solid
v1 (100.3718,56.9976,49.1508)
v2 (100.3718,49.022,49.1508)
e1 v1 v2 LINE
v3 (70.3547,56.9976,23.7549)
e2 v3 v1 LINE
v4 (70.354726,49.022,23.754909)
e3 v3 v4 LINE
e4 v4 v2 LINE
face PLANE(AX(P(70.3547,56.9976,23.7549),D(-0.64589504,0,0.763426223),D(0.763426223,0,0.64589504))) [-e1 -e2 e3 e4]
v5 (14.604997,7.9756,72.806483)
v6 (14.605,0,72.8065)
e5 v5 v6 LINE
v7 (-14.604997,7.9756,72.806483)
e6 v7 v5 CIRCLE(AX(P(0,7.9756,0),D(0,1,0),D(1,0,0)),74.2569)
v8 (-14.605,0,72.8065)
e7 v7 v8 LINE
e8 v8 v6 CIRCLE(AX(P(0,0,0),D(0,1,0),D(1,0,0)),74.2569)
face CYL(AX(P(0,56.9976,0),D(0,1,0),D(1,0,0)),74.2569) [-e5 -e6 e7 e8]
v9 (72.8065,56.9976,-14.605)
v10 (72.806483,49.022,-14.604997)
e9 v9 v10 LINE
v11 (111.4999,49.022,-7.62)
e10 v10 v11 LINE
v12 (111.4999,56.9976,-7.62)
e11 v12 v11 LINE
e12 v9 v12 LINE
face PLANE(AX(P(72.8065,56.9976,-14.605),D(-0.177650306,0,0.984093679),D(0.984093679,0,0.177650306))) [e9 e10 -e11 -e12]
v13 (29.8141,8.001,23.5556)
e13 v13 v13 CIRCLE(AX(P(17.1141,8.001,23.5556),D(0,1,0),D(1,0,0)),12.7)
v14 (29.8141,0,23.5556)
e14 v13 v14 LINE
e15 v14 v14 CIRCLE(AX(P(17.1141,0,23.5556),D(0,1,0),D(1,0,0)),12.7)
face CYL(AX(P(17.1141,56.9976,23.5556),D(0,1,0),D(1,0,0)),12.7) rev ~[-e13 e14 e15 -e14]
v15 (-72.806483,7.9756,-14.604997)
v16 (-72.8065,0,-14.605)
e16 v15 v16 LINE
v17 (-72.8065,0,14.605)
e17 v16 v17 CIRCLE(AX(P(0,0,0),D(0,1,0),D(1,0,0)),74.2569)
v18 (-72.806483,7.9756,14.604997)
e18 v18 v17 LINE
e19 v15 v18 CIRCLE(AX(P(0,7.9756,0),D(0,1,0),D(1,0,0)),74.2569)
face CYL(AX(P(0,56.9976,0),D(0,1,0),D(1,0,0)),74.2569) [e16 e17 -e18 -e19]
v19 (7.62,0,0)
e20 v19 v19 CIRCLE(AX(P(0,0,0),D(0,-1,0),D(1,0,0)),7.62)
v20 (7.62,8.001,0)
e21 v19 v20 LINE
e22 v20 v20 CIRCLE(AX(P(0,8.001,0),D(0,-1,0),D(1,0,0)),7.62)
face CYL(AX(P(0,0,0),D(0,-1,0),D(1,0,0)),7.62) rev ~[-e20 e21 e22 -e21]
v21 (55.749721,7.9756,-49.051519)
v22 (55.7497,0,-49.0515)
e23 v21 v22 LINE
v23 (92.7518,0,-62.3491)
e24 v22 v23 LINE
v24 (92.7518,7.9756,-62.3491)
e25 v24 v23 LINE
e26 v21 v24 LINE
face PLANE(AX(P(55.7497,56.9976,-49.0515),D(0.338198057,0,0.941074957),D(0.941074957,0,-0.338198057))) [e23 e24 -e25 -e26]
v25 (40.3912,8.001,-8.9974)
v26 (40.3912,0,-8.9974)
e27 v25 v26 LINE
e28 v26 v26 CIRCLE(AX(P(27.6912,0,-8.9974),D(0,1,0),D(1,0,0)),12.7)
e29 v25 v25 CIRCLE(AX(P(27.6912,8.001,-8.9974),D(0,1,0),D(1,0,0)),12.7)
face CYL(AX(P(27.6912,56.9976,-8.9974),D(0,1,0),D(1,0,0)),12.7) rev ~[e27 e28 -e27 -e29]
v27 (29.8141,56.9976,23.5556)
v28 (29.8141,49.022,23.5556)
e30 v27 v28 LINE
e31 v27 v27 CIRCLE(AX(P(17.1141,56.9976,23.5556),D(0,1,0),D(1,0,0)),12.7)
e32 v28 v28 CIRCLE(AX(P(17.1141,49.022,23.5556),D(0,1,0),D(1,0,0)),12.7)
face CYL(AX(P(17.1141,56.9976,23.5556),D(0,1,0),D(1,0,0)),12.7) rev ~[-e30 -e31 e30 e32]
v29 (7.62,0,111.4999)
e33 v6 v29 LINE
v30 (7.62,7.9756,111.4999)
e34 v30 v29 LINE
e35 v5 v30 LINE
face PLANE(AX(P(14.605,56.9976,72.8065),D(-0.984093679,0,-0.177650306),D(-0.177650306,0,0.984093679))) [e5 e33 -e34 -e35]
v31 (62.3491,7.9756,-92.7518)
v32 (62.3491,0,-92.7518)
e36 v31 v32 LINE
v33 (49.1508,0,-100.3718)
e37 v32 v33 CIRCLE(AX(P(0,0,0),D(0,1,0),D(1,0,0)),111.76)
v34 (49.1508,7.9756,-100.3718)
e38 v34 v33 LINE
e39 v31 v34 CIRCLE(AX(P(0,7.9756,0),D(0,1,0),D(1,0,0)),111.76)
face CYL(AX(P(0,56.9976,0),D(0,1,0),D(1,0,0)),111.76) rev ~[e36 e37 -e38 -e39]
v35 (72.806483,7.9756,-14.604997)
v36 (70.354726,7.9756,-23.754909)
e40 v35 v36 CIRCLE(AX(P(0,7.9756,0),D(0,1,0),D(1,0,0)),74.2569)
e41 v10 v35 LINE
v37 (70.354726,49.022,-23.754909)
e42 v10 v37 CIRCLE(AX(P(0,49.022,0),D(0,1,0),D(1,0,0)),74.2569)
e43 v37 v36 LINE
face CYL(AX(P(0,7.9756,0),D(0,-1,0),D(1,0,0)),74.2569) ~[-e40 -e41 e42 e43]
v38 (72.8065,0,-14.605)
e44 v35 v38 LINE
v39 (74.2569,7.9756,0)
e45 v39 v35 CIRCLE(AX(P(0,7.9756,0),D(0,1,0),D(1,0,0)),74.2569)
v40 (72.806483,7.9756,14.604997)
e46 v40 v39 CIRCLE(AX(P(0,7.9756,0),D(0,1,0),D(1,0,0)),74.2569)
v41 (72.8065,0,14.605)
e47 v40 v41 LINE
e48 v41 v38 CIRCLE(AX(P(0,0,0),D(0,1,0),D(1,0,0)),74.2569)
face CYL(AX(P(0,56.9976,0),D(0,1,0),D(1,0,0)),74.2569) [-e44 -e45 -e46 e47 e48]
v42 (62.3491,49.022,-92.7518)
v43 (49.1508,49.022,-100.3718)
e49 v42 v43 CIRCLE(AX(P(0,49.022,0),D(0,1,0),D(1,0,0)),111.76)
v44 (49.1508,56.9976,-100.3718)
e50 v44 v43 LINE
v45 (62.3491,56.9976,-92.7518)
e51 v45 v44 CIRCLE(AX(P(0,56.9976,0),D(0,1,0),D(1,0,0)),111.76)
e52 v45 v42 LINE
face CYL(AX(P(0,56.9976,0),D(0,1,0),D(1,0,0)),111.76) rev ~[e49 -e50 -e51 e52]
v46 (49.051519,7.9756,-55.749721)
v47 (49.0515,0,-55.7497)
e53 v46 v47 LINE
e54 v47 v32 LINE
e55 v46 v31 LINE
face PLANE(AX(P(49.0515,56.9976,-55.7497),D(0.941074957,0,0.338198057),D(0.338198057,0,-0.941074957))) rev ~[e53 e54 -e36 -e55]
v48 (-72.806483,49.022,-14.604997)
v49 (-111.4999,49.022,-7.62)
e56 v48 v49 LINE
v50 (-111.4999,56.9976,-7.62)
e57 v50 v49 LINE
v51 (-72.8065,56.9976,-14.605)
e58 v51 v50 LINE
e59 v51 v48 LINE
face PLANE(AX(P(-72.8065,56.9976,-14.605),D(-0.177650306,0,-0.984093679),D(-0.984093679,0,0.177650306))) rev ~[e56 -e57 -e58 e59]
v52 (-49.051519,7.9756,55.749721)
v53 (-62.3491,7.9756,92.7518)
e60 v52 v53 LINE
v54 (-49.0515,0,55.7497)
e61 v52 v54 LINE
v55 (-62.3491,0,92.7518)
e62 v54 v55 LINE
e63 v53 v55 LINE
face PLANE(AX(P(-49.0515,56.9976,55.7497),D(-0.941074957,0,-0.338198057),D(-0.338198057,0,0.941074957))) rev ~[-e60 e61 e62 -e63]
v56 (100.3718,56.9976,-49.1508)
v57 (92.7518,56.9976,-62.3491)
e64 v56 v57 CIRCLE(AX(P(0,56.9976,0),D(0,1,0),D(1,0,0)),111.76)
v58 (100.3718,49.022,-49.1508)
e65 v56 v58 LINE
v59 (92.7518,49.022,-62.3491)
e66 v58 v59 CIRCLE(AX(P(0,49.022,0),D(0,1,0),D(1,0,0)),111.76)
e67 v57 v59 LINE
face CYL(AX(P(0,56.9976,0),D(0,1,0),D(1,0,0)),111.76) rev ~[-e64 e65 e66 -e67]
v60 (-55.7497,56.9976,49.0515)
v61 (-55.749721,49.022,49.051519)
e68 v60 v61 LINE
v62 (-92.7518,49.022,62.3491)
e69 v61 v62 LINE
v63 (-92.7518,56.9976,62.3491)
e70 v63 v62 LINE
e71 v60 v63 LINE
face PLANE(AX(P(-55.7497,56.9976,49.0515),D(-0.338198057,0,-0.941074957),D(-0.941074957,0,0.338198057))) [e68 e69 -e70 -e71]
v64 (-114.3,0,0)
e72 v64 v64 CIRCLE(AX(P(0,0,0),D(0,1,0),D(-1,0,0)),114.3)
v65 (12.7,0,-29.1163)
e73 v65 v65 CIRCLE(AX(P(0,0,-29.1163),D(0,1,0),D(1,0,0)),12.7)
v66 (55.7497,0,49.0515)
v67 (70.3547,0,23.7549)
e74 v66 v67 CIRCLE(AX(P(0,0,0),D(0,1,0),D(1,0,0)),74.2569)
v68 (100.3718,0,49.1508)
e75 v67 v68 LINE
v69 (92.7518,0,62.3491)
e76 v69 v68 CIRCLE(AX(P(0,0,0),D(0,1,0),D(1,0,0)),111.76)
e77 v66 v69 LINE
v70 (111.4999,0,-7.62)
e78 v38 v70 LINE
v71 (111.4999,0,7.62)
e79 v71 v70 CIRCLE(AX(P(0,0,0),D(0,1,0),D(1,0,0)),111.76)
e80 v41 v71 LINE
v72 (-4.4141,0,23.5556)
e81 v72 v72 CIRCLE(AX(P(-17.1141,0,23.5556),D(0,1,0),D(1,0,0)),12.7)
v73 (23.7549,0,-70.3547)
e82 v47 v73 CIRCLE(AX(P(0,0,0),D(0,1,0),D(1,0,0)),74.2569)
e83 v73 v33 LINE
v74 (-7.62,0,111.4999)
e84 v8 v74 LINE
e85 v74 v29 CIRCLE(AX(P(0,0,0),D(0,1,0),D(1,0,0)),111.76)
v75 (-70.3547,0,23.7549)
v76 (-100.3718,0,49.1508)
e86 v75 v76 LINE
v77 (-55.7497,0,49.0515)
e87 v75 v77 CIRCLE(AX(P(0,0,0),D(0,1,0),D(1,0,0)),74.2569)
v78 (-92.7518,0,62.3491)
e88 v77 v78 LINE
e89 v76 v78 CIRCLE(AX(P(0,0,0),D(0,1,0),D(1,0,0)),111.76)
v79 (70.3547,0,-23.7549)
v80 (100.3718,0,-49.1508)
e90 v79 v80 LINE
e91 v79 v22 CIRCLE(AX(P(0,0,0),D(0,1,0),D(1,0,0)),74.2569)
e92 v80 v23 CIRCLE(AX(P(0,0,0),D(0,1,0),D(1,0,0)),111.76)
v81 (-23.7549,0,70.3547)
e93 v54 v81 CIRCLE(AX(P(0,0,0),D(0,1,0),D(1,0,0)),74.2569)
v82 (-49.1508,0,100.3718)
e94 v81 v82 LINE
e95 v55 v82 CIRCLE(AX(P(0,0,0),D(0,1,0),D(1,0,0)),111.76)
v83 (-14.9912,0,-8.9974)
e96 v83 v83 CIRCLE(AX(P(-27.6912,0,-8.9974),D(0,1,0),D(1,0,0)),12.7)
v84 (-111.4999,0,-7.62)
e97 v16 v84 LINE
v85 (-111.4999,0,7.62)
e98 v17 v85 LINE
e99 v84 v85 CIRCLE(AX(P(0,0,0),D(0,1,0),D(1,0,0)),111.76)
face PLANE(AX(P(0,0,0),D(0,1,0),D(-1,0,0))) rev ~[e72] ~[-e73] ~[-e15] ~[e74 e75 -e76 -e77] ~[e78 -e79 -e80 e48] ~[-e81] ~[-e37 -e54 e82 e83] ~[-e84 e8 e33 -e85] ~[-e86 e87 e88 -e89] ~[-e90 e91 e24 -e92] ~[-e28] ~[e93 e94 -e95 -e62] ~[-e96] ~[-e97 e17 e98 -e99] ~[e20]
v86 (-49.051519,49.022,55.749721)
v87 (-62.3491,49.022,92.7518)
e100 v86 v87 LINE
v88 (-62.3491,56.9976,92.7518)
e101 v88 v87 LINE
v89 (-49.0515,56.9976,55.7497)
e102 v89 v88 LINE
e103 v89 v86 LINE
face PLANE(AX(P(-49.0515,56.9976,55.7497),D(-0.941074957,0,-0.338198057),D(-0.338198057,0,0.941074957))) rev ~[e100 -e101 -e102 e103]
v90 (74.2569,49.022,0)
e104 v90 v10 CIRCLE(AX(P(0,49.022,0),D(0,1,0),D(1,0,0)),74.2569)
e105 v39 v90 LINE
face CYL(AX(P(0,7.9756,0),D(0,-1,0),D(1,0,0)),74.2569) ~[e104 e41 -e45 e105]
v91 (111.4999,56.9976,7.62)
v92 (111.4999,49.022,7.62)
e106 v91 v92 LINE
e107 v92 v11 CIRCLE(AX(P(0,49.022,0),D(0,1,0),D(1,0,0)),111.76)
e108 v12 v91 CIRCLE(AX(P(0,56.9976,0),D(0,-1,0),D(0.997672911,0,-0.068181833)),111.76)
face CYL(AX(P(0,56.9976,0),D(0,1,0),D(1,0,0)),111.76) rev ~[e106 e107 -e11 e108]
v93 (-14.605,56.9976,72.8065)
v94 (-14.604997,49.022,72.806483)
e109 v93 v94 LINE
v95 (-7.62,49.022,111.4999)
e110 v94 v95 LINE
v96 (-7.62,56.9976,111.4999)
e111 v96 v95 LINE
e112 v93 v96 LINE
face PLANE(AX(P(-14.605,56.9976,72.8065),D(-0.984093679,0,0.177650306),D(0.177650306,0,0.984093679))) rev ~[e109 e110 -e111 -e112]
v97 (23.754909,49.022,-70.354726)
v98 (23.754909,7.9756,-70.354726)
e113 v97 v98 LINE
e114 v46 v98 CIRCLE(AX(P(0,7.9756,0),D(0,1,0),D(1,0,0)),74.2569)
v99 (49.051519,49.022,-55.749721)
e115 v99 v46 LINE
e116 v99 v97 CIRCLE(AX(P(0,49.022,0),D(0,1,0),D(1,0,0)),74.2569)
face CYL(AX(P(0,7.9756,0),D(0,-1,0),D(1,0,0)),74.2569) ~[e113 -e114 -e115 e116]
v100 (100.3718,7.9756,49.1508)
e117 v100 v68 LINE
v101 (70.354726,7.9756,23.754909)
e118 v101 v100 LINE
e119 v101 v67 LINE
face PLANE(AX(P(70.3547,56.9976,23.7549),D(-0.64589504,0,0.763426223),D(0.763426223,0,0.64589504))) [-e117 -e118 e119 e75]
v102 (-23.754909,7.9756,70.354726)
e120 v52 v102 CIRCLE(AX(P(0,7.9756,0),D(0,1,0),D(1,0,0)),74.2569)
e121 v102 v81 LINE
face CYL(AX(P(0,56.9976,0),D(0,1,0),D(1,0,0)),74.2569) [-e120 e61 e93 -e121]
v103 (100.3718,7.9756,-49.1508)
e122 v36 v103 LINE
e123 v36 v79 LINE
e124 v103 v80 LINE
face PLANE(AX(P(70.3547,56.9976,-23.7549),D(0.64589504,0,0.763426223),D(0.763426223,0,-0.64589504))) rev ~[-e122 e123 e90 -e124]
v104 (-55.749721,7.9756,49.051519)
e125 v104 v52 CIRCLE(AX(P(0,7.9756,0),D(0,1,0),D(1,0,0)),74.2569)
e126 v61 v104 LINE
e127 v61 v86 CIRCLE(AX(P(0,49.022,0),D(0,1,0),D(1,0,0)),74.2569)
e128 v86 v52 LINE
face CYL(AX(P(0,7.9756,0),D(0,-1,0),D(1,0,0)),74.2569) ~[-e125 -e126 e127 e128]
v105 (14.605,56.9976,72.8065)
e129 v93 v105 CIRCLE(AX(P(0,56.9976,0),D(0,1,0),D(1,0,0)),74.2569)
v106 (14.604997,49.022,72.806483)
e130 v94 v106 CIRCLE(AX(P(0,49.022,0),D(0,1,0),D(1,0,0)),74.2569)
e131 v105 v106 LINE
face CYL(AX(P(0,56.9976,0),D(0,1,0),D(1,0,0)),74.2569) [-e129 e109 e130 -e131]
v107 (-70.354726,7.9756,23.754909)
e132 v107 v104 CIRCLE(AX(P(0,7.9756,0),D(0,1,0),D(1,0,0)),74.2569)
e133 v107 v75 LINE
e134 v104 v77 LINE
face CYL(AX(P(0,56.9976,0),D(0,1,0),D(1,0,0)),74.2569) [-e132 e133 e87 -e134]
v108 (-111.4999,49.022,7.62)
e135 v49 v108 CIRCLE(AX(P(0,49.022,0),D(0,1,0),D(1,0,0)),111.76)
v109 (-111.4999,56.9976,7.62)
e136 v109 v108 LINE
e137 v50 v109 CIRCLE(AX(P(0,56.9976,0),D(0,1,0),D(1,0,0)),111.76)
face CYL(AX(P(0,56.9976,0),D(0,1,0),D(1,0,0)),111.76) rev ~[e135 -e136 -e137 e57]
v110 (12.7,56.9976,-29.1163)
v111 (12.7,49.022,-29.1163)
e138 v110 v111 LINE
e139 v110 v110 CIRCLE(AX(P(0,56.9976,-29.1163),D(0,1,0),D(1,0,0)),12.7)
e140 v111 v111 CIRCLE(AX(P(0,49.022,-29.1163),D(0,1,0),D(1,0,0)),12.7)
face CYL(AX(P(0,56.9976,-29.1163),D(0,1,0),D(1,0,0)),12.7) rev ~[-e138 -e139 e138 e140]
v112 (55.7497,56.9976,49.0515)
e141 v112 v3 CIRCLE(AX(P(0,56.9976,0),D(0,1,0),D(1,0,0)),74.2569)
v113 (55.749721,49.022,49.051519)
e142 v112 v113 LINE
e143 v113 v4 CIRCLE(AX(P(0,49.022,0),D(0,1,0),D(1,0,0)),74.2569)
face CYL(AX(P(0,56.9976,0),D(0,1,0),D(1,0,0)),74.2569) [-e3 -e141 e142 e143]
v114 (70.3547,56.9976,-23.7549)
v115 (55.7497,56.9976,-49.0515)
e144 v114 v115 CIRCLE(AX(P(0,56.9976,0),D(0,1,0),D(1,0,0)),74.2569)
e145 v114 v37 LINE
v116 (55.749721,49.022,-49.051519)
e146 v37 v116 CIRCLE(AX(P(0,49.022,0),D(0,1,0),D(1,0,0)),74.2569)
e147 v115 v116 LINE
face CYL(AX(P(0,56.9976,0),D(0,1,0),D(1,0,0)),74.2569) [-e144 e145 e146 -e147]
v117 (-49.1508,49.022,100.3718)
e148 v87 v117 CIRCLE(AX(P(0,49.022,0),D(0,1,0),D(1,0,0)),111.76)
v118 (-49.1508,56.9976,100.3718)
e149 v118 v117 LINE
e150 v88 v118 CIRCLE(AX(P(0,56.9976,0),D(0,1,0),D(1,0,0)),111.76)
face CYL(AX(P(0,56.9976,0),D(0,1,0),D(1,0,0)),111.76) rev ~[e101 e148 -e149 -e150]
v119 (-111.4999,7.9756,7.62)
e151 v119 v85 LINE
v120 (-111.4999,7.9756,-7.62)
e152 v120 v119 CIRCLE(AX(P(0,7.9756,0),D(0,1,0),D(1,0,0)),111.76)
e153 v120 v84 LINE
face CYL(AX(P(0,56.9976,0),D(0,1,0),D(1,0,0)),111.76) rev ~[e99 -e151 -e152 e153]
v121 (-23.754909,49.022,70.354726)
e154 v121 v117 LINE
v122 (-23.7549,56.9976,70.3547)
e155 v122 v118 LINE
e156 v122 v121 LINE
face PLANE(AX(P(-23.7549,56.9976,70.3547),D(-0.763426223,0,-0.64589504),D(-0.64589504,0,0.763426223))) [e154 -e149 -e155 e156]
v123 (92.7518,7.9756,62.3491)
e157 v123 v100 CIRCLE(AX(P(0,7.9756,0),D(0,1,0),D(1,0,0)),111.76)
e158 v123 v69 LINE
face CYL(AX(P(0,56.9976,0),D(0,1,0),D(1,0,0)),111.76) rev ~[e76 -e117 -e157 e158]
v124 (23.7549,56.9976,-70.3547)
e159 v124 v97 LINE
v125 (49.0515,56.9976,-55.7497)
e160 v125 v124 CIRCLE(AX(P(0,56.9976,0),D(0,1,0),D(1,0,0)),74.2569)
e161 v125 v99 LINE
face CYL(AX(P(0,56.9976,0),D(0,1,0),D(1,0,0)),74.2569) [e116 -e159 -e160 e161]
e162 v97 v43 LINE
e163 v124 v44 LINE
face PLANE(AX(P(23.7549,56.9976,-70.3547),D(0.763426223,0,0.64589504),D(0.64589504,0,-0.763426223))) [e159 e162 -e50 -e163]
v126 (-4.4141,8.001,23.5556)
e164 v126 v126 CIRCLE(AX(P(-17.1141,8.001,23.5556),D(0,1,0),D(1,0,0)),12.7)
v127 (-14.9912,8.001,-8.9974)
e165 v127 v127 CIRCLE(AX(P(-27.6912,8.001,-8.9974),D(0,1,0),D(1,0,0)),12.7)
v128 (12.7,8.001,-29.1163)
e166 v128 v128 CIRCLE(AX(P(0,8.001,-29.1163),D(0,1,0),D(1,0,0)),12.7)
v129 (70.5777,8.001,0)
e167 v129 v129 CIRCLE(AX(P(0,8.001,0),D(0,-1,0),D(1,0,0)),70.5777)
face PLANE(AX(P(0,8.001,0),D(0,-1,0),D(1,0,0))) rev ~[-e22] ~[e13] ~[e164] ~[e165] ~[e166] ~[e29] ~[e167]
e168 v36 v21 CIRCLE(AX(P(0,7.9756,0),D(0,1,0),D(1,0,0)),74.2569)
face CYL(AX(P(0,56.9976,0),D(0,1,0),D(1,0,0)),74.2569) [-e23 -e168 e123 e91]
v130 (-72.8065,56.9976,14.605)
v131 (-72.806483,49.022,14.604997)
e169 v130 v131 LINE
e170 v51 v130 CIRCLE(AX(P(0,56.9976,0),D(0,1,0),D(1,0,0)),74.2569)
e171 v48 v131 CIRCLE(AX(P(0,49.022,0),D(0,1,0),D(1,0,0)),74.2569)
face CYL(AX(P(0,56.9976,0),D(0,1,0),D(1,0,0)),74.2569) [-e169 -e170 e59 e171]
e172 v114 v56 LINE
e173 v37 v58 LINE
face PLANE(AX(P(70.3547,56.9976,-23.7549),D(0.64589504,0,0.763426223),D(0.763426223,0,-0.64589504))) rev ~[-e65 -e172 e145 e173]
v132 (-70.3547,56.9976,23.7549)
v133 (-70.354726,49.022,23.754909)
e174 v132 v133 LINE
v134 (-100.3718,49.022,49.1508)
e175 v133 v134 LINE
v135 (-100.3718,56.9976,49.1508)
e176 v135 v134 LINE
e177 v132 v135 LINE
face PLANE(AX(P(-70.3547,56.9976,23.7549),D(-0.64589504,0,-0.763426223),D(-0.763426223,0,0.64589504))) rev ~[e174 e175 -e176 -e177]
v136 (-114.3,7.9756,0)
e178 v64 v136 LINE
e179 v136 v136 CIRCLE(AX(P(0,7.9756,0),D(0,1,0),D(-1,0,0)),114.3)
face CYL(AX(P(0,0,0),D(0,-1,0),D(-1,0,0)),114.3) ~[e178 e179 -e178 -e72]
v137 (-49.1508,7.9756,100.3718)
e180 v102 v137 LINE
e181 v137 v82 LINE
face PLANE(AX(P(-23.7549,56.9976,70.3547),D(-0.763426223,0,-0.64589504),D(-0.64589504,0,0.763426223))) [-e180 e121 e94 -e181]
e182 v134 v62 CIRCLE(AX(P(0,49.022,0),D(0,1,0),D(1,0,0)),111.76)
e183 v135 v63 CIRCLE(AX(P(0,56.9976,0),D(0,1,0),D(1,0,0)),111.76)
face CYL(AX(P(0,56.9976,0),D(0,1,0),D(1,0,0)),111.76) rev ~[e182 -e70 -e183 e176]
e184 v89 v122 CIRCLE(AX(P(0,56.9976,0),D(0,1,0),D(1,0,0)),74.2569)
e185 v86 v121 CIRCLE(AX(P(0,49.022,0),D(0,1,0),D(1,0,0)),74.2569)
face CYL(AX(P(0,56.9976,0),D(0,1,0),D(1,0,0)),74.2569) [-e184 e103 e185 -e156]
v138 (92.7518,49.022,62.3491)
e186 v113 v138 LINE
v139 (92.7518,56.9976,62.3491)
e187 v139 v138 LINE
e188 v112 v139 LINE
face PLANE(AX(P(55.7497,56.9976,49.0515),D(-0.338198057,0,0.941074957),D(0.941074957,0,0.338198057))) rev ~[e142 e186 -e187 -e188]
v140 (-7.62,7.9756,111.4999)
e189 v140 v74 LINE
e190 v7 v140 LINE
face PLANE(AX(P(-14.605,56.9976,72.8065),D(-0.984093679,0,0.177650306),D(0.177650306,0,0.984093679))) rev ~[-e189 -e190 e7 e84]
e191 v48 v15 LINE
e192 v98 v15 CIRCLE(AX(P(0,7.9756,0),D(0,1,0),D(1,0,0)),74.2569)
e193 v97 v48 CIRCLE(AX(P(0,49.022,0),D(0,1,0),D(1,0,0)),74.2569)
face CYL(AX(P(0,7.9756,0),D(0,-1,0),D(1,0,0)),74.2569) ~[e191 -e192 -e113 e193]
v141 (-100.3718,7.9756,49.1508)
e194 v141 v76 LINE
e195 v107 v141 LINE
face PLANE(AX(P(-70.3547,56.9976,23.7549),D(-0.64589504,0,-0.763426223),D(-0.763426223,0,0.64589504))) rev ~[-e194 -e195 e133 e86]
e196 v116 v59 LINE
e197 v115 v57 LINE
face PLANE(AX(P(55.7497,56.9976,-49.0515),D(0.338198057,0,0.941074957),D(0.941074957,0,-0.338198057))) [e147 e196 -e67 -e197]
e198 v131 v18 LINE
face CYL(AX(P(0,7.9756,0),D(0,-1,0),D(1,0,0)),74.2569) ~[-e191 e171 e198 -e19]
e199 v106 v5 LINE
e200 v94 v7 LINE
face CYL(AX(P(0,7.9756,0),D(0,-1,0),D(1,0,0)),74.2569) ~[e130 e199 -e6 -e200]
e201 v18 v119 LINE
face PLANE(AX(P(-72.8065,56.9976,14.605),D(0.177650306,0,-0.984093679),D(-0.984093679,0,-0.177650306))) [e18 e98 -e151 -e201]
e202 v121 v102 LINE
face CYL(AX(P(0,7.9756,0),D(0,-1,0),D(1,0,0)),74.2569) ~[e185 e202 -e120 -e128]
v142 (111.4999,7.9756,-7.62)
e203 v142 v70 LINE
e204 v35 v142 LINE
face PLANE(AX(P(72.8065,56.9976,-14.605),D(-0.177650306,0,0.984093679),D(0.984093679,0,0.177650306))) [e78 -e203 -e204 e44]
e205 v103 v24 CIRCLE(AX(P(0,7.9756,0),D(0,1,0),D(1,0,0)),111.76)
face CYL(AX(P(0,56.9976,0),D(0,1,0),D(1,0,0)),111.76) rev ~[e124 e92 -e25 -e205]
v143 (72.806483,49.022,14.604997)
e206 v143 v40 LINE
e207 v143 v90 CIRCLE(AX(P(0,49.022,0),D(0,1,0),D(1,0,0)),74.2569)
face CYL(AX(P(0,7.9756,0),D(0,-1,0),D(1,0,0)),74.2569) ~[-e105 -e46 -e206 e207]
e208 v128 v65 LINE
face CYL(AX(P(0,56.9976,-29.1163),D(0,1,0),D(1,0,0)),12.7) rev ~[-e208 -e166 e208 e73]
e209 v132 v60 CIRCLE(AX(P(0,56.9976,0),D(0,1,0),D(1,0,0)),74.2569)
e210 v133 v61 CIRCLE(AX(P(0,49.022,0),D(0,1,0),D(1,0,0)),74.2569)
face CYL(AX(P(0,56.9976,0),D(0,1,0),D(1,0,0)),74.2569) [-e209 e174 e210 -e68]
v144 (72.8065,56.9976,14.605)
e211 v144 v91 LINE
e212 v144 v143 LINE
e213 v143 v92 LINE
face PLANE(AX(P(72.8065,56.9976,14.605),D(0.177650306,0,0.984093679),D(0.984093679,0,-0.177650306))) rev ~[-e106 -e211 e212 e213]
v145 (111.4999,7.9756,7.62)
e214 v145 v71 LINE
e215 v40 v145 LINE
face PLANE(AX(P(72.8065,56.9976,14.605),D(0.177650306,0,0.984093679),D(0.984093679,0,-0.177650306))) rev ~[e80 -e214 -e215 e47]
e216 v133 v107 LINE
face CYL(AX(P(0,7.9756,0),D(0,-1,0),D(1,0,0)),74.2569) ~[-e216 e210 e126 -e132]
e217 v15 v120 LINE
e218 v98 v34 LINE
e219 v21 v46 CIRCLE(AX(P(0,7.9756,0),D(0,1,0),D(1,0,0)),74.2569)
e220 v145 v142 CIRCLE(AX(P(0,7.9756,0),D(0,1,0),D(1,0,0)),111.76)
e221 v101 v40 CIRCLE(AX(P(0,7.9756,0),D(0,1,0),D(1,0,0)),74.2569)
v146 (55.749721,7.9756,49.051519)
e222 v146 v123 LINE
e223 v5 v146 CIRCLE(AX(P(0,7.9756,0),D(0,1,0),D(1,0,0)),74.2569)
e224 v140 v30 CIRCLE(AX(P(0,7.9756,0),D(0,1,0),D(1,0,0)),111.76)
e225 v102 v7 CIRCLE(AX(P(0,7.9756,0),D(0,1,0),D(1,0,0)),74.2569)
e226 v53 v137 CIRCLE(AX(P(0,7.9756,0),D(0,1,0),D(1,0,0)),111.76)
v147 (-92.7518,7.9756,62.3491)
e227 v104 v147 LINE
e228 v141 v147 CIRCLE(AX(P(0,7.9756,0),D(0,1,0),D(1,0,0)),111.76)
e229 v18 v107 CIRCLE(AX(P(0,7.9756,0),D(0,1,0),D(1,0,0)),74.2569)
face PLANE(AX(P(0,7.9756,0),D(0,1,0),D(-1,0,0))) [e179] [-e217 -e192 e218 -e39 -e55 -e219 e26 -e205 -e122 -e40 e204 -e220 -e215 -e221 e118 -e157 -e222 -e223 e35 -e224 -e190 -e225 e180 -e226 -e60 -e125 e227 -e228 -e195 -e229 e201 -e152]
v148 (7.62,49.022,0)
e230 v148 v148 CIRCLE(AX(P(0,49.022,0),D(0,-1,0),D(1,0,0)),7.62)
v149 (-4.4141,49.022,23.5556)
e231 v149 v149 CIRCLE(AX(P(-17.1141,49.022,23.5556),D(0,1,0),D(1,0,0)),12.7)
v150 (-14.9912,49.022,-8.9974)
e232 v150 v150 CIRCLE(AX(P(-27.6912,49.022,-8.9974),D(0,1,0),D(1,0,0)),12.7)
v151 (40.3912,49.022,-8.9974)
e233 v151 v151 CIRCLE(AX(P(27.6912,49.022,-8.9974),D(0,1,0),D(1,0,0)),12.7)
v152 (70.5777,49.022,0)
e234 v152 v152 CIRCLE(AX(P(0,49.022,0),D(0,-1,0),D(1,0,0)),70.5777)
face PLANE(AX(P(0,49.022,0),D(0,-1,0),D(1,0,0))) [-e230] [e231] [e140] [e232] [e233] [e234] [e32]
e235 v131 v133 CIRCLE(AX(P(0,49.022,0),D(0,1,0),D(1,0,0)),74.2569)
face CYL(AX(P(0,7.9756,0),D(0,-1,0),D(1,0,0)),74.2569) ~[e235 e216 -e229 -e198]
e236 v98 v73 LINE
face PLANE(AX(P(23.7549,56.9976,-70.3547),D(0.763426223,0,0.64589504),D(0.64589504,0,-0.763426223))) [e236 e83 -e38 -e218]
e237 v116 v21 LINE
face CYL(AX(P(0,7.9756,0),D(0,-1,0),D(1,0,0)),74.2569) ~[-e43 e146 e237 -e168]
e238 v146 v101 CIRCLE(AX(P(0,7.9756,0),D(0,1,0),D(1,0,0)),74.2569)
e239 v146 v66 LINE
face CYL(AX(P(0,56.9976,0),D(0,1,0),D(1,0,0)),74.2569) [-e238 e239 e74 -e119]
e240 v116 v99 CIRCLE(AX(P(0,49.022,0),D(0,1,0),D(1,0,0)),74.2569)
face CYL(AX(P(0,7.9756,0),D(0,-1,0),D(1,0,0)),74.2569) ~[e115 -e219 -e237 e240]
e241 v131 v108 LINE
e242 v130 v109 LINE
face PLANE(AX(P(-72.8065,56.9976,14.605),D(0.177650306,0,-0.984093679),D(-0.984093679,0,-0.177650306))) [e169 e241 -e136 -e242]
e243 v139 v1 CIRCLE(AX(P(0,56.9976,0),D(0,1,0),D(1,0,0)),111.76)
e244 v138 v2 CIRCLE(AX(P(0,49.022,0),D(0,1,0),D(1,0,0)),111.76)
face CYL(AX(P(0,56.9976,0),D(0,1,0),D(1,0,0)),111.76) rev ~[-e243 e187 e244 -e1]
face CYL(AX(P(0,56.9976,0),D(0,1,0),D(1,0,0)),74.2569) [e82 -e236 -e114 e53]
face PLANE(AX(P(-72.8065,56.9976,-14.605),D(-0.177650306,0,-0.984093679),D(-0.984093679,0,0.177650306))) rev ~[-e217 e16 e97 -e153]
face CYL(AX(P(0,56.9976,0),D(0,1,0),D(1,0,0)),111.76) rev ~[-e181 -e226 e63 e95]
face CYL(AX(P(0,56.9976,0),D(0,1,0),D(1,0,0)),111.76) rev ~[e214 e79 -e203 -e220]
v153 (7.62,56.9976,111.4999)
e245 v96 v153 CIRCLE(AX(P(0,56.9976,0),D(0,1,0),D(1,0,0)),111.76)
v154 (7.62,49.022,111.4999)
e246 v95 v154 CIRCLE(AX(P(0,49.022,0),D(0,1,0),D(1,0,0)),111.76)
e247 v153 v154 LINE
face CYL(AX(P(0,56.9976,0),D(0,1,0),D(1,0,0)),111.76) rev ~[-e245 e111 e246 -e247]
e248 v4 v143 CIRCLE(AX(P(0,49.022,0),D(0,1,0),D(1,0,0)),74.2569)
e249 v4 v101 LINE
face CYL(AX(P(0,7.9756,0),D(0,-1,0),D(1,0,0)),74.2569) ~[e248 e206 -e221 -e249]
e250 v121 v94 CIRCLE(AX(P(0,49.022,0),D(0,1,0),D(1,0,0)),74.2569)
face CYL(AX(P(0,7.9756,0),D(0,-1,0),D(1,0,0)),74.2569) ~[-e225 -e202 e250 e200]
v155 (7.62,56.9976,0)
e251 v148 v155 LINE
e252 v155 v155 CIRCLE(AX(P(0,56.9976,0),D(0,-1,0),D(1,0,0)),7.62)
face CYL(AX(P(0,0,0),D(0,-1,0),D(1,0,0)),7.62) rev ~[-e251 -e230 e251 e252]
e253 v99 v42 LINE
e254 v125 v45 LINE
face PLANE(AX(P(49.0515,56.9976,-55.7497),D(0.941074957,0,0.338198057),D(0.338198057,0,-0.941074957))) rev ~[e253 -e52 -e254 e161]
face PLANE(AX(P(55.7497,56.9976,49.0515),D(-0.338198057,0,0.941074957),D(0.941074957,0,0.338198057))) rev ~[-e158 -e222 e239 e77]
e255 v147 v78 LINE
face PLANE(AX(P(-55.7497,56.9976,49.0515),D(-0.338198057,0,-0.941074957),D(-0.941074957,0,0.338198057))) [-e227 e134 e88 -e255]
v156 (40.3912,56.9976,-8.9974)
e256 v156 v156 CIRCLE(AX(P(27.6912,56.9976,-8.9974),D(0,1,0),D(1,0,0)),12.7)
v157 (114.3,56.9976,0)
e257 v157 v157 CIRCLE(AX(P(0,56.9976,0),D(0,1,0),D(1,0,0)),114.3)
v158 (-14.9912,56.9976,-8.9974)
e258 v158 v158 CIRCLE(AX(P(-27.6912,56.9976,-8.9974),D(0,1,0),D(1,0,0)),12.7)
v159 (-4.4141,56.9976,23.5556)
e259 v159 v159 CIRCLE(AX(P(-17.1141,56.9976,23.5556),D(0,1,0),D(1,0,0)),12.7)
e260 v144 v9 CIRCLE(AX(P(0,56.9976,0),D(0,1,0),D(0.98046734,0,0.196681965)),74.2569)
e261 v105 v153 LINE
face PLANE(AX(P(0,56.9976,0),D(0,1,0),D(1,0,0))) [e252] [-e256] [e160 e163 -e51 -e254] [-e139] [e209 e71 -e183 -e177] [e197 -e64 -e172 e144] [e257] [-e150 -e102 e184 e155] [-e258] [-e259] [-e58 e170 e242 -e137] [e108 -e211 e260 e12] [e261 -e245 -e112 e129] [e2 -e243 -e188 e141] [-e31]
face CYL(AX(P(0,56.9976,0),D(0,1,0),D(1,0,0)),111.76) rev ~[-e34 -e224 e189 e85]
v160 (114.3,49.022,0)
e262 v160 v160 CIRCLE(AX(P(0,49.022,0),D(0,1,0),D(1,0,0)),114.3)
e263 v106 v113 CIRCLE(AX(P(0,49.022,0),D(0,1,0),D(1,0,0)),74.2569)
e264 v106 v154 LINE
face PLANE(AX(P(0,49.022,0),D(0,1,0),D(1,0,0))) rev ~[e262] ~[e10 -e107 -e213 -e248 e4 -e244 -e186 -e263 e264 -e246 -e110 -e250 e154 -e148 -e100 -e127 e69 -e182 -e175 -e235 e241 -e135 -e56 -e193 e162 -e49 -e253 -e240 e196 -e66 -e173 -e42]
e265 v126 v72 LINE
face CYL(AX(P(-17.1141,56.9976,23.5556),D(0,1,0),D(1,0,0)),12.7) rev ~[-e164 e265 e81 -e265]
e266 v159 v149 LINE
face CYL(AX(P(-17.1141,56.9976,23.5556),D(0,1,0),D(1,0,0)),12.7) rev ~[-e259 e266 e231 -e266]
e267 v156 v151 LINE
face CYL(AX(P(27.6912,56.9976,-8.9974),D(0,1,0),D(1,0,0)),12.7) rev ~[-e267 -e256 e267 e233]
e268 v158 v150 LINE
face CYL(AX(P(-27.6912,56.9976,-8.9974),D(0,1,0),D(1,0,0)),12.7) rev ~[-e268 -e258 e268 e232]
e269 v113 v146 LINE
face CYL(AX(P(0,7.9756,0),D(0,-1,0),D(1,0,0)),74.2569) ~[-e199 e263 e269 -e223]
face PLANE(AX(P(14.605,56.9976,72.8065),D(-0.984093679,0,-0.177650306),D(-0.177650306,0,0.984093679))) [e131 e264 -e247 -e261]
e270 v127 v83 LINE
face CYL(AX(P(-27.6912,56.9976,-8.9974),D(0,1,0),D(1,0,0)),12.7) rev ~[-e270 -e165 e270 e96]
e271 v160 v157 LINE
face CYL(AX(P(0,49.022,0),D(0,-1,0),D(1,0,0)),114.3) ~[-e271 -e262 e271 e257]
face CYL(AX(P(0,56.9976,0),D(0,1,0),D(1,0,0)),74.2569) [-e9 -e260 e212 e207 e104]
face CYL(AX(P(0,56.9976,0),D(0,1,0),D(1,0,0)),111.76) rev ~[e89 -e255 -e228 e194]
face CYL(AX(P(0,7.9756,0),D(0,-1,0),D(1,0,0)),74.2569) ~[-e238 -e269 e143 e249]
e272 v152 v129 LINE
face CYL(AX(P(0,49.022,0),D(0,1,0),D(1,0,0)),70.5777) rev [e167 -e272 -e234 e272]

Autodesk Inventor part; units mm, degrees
ref_plane "YZ Plane" through (0, 0, 0) normal (1, 0, 0) x (0, 1, 0)
ref_plane "XZ Plane" through (0, 0, 0) normal (0, 1, 0) x (-1, 0, 0)
ref_plane "XY Plane" through (0, 0, 0) normal (0, 0, 1) x (1, 0, 0)
sketch "Sketch1" plane through (0, 0, 0) normal (0, 1, 0) x (-1, 0, 0)
  circle A0 centre (0, 0) radius 114.3
  dimension "d0" = 228.6
extrude "Extrusion1" add sketch "Sketch1" along normal blind 7.9756
sketch "Sketch2" plane through (0, 7.9756, 0) normal (0, 1, 0) x (1, 0, 0)
  circle A0 centre (0, 0) radius 114.3 projected
  circle A1 centre (0, 0) radius 74.2569
  dimension "d3" = 148.5138
extrude "Extrusion2" add sketch "Sketch2" along normal blind 41.0464 contours A1
sketch "Sketch3" plane through (0, 49.022, 0) normal (0, 1, 0) x (1, 0, 0)
  circle A0 centre (0, 0) radius 74.2569 projected
  circle A1 centre (0, 0) radius 114.3
  dimension "d6" = 228.6
extrude "Extrusion3" add sketch "Sketch3" along normal blind 7.9756 contours A0 | A1
sketch "Sketch4" plane through (0, 56.9976, 0) normal (0, 1, 0) x (1, 0, 0)
  circle A0 centre (0, 0) radius 114.3 projected
  circle A1 centre (0, 0) radius 111.76
  circle A2 centre (0, 0) radius 74.2569
  line L0 (14.605, 72.8065) -> (7.62, 111.4999)
  line L1 (-14.605, 72.8065) -> (-7.62, 111.4999)
  line L2 (0, 0) -> (0, 82.3144)
  circle A3 centre (0, 0) radius 111.76
  circle A4 centre (0, 0) radius 74.2569
  line L3 (-23.7549, 70.3547) -> (-49.1508, 100.3718)
  line L4 (-49.0515, 55.7497) -> (-62.3491, 92.7518)
  circle A5 centre (0, 0) radius 111.76
  circle A6 centre (0, 0) radius 74.2569
  line L5 (-55.7497, 49.0515) -> (-92.7518, 62.3491)
  line L6 (-70.3547, 23.7549) -> (-100.3718, 49.1508)
  circle A7 centre (0, 0) radius 111.76
  circle A8 centre (0, 0) radius 74.2569
  line L7 (-72.8065, 14.605) -> (-111.4999, 7.62)
  line L8 (-72.8065, -14.605) -> (-111.4999, -7.62)
  circle A9 centre (0, 0) radius 111.76
  circle A10 centre (0, 0) radius 74.2569
  line L9 (-70.3547, -23.7549) -> (-100.3718, -49.1508)
  line L10 (-55.7497, -49.0515) -> (-92.7518, -62.3491)
  circle A11 centre (0, 0) radius 111.76
  circle A12 centre (0, 0) radius 74.2569
  line L11 (-49.0515, -55.7497) -> (-62.3491, -92.7518)
  line L12 (-23.7549, -70.3547) -> (-49.1508, -100.3718)
  circle A13 centre (0, 0) radius 111.76
  circle A14 centre (0, 0) radius 74.2569
  line L13 (-14.605, -72.8065) -> (-7.62, -111.4999)
  line L14 (14.605, -72.8065) -> (7.62, -111.4999)
  circle A15 centre (0, 0) radius 111.76
  circle A16 centre (0, 0) radius 74.2569
  line L15 (23.7549, -70.3547) -> (49.1508, -100.3718)
  line L16 (49.0515, -55.7497) -> (62.3491, -92.7518)
  circle A17 centre (0, 0) radius 111.76
  circle A18 centre (0, 0) radius 74.2569
  line L17 (55.7497, -49.0515) -> (92.7518, -62.3491)
  line L18 (70.3547, -23.7549) -> (100.3718, -49.1508)
  circle A19 centre (0, 0) radius 111.76
  circle A20 centre (0, 0) radius 74.2569
  line L19 (72.8065, -14.605) -> (111.4999, -7.62)
  line L20 (72.8065, 14.605) -> (111.4999, 7.62)
  circle A21 centre (0, 0) radius 111.76
  circle A22 centre (0, 0) radius 74.2569
  line L21 (70.3547, 23.7549) -> (100.3718, 49.1508)
  line L22 (55.7497, 49.0515) -> (92.7518, 62.3491)
  circle A23 centre (0, 0) radius 111.76
  circle A24 centre (0, 0) radius 74.2569
  line L23 (49.0515, 55.7497) -> (62.3491, 92.7518)
  line L24 (23.7549, 70.3547) -> (49.1508, 100.3718)
  dimension "d10" = 148.5138
  dimension "d11" = 29.21
  dimension "d12" = 14.605
  dimension "d13" = 15.24
  dimension "d14" = 7.62
  dimension "d17" = 360
extrude "Extrusion4" cut sketch "Sketch4" against normal blind 12700 contours A1 L19 A2 L20 | L21 A2 L22 A1 | A1 L17 A2 L18 | L23 A2 L24 A1 | A1 L13 A2 L14 | A1 L11 A2 L12 | A1 L9 A2 L10 | L7 A2 L8 A1
sketch "Sketch5" plane through (0, 56.9976, 0) normal (0, 1, 0) x (1, 0, 0)
  arc A0 (100.3718, 49.1508) -> (92.7518, 62.3491) centre (0, 0) ccw projected
  circle A1 centre (0, 29.1163) radius 12.7
  circle A2 centre (-27.6912, 8.9974) radius 12.7
  circle A3 centre (-17.1141, -23.5556) radius 12.7
  circle A4 centre (17.1141, -23.5556) radius 12.7
  circle A5 centre (27.6912, 8.9974) radius 12.7
  dimension "d21" = 25.4
  dimension "d24" = 360
extrude "Extrusion5" cut sketch "Sketch5" against normal blind 12700
sketch "Sketch6" plane through (0, 49.022, 0) normal (0, -1, 0) x (1, 0, 0)
  arc A0 (70.3547, -23.7549) -> (72.8065, -14.605) centre (0, 0) ccw projected
  circle A1 centre (0, 0) radius 70.5777
extrude "Extrusion6" cut sketch "Sketch6" along normal blind 41.021
sketch "Sketch7" plane through (0, 0, 0) normal (0, -1, 0) x (1, 0, 0)
  circle A0 centre (0, 0) radius 114.3 projected
  circle A1 centre (0, 0) radius 7.62
  dimension "d30" = 15.24
extrude "Extrusion7" cut sketch "Sketch7" against normal blind 174.879 contours A1
properties part number "Wheel"
